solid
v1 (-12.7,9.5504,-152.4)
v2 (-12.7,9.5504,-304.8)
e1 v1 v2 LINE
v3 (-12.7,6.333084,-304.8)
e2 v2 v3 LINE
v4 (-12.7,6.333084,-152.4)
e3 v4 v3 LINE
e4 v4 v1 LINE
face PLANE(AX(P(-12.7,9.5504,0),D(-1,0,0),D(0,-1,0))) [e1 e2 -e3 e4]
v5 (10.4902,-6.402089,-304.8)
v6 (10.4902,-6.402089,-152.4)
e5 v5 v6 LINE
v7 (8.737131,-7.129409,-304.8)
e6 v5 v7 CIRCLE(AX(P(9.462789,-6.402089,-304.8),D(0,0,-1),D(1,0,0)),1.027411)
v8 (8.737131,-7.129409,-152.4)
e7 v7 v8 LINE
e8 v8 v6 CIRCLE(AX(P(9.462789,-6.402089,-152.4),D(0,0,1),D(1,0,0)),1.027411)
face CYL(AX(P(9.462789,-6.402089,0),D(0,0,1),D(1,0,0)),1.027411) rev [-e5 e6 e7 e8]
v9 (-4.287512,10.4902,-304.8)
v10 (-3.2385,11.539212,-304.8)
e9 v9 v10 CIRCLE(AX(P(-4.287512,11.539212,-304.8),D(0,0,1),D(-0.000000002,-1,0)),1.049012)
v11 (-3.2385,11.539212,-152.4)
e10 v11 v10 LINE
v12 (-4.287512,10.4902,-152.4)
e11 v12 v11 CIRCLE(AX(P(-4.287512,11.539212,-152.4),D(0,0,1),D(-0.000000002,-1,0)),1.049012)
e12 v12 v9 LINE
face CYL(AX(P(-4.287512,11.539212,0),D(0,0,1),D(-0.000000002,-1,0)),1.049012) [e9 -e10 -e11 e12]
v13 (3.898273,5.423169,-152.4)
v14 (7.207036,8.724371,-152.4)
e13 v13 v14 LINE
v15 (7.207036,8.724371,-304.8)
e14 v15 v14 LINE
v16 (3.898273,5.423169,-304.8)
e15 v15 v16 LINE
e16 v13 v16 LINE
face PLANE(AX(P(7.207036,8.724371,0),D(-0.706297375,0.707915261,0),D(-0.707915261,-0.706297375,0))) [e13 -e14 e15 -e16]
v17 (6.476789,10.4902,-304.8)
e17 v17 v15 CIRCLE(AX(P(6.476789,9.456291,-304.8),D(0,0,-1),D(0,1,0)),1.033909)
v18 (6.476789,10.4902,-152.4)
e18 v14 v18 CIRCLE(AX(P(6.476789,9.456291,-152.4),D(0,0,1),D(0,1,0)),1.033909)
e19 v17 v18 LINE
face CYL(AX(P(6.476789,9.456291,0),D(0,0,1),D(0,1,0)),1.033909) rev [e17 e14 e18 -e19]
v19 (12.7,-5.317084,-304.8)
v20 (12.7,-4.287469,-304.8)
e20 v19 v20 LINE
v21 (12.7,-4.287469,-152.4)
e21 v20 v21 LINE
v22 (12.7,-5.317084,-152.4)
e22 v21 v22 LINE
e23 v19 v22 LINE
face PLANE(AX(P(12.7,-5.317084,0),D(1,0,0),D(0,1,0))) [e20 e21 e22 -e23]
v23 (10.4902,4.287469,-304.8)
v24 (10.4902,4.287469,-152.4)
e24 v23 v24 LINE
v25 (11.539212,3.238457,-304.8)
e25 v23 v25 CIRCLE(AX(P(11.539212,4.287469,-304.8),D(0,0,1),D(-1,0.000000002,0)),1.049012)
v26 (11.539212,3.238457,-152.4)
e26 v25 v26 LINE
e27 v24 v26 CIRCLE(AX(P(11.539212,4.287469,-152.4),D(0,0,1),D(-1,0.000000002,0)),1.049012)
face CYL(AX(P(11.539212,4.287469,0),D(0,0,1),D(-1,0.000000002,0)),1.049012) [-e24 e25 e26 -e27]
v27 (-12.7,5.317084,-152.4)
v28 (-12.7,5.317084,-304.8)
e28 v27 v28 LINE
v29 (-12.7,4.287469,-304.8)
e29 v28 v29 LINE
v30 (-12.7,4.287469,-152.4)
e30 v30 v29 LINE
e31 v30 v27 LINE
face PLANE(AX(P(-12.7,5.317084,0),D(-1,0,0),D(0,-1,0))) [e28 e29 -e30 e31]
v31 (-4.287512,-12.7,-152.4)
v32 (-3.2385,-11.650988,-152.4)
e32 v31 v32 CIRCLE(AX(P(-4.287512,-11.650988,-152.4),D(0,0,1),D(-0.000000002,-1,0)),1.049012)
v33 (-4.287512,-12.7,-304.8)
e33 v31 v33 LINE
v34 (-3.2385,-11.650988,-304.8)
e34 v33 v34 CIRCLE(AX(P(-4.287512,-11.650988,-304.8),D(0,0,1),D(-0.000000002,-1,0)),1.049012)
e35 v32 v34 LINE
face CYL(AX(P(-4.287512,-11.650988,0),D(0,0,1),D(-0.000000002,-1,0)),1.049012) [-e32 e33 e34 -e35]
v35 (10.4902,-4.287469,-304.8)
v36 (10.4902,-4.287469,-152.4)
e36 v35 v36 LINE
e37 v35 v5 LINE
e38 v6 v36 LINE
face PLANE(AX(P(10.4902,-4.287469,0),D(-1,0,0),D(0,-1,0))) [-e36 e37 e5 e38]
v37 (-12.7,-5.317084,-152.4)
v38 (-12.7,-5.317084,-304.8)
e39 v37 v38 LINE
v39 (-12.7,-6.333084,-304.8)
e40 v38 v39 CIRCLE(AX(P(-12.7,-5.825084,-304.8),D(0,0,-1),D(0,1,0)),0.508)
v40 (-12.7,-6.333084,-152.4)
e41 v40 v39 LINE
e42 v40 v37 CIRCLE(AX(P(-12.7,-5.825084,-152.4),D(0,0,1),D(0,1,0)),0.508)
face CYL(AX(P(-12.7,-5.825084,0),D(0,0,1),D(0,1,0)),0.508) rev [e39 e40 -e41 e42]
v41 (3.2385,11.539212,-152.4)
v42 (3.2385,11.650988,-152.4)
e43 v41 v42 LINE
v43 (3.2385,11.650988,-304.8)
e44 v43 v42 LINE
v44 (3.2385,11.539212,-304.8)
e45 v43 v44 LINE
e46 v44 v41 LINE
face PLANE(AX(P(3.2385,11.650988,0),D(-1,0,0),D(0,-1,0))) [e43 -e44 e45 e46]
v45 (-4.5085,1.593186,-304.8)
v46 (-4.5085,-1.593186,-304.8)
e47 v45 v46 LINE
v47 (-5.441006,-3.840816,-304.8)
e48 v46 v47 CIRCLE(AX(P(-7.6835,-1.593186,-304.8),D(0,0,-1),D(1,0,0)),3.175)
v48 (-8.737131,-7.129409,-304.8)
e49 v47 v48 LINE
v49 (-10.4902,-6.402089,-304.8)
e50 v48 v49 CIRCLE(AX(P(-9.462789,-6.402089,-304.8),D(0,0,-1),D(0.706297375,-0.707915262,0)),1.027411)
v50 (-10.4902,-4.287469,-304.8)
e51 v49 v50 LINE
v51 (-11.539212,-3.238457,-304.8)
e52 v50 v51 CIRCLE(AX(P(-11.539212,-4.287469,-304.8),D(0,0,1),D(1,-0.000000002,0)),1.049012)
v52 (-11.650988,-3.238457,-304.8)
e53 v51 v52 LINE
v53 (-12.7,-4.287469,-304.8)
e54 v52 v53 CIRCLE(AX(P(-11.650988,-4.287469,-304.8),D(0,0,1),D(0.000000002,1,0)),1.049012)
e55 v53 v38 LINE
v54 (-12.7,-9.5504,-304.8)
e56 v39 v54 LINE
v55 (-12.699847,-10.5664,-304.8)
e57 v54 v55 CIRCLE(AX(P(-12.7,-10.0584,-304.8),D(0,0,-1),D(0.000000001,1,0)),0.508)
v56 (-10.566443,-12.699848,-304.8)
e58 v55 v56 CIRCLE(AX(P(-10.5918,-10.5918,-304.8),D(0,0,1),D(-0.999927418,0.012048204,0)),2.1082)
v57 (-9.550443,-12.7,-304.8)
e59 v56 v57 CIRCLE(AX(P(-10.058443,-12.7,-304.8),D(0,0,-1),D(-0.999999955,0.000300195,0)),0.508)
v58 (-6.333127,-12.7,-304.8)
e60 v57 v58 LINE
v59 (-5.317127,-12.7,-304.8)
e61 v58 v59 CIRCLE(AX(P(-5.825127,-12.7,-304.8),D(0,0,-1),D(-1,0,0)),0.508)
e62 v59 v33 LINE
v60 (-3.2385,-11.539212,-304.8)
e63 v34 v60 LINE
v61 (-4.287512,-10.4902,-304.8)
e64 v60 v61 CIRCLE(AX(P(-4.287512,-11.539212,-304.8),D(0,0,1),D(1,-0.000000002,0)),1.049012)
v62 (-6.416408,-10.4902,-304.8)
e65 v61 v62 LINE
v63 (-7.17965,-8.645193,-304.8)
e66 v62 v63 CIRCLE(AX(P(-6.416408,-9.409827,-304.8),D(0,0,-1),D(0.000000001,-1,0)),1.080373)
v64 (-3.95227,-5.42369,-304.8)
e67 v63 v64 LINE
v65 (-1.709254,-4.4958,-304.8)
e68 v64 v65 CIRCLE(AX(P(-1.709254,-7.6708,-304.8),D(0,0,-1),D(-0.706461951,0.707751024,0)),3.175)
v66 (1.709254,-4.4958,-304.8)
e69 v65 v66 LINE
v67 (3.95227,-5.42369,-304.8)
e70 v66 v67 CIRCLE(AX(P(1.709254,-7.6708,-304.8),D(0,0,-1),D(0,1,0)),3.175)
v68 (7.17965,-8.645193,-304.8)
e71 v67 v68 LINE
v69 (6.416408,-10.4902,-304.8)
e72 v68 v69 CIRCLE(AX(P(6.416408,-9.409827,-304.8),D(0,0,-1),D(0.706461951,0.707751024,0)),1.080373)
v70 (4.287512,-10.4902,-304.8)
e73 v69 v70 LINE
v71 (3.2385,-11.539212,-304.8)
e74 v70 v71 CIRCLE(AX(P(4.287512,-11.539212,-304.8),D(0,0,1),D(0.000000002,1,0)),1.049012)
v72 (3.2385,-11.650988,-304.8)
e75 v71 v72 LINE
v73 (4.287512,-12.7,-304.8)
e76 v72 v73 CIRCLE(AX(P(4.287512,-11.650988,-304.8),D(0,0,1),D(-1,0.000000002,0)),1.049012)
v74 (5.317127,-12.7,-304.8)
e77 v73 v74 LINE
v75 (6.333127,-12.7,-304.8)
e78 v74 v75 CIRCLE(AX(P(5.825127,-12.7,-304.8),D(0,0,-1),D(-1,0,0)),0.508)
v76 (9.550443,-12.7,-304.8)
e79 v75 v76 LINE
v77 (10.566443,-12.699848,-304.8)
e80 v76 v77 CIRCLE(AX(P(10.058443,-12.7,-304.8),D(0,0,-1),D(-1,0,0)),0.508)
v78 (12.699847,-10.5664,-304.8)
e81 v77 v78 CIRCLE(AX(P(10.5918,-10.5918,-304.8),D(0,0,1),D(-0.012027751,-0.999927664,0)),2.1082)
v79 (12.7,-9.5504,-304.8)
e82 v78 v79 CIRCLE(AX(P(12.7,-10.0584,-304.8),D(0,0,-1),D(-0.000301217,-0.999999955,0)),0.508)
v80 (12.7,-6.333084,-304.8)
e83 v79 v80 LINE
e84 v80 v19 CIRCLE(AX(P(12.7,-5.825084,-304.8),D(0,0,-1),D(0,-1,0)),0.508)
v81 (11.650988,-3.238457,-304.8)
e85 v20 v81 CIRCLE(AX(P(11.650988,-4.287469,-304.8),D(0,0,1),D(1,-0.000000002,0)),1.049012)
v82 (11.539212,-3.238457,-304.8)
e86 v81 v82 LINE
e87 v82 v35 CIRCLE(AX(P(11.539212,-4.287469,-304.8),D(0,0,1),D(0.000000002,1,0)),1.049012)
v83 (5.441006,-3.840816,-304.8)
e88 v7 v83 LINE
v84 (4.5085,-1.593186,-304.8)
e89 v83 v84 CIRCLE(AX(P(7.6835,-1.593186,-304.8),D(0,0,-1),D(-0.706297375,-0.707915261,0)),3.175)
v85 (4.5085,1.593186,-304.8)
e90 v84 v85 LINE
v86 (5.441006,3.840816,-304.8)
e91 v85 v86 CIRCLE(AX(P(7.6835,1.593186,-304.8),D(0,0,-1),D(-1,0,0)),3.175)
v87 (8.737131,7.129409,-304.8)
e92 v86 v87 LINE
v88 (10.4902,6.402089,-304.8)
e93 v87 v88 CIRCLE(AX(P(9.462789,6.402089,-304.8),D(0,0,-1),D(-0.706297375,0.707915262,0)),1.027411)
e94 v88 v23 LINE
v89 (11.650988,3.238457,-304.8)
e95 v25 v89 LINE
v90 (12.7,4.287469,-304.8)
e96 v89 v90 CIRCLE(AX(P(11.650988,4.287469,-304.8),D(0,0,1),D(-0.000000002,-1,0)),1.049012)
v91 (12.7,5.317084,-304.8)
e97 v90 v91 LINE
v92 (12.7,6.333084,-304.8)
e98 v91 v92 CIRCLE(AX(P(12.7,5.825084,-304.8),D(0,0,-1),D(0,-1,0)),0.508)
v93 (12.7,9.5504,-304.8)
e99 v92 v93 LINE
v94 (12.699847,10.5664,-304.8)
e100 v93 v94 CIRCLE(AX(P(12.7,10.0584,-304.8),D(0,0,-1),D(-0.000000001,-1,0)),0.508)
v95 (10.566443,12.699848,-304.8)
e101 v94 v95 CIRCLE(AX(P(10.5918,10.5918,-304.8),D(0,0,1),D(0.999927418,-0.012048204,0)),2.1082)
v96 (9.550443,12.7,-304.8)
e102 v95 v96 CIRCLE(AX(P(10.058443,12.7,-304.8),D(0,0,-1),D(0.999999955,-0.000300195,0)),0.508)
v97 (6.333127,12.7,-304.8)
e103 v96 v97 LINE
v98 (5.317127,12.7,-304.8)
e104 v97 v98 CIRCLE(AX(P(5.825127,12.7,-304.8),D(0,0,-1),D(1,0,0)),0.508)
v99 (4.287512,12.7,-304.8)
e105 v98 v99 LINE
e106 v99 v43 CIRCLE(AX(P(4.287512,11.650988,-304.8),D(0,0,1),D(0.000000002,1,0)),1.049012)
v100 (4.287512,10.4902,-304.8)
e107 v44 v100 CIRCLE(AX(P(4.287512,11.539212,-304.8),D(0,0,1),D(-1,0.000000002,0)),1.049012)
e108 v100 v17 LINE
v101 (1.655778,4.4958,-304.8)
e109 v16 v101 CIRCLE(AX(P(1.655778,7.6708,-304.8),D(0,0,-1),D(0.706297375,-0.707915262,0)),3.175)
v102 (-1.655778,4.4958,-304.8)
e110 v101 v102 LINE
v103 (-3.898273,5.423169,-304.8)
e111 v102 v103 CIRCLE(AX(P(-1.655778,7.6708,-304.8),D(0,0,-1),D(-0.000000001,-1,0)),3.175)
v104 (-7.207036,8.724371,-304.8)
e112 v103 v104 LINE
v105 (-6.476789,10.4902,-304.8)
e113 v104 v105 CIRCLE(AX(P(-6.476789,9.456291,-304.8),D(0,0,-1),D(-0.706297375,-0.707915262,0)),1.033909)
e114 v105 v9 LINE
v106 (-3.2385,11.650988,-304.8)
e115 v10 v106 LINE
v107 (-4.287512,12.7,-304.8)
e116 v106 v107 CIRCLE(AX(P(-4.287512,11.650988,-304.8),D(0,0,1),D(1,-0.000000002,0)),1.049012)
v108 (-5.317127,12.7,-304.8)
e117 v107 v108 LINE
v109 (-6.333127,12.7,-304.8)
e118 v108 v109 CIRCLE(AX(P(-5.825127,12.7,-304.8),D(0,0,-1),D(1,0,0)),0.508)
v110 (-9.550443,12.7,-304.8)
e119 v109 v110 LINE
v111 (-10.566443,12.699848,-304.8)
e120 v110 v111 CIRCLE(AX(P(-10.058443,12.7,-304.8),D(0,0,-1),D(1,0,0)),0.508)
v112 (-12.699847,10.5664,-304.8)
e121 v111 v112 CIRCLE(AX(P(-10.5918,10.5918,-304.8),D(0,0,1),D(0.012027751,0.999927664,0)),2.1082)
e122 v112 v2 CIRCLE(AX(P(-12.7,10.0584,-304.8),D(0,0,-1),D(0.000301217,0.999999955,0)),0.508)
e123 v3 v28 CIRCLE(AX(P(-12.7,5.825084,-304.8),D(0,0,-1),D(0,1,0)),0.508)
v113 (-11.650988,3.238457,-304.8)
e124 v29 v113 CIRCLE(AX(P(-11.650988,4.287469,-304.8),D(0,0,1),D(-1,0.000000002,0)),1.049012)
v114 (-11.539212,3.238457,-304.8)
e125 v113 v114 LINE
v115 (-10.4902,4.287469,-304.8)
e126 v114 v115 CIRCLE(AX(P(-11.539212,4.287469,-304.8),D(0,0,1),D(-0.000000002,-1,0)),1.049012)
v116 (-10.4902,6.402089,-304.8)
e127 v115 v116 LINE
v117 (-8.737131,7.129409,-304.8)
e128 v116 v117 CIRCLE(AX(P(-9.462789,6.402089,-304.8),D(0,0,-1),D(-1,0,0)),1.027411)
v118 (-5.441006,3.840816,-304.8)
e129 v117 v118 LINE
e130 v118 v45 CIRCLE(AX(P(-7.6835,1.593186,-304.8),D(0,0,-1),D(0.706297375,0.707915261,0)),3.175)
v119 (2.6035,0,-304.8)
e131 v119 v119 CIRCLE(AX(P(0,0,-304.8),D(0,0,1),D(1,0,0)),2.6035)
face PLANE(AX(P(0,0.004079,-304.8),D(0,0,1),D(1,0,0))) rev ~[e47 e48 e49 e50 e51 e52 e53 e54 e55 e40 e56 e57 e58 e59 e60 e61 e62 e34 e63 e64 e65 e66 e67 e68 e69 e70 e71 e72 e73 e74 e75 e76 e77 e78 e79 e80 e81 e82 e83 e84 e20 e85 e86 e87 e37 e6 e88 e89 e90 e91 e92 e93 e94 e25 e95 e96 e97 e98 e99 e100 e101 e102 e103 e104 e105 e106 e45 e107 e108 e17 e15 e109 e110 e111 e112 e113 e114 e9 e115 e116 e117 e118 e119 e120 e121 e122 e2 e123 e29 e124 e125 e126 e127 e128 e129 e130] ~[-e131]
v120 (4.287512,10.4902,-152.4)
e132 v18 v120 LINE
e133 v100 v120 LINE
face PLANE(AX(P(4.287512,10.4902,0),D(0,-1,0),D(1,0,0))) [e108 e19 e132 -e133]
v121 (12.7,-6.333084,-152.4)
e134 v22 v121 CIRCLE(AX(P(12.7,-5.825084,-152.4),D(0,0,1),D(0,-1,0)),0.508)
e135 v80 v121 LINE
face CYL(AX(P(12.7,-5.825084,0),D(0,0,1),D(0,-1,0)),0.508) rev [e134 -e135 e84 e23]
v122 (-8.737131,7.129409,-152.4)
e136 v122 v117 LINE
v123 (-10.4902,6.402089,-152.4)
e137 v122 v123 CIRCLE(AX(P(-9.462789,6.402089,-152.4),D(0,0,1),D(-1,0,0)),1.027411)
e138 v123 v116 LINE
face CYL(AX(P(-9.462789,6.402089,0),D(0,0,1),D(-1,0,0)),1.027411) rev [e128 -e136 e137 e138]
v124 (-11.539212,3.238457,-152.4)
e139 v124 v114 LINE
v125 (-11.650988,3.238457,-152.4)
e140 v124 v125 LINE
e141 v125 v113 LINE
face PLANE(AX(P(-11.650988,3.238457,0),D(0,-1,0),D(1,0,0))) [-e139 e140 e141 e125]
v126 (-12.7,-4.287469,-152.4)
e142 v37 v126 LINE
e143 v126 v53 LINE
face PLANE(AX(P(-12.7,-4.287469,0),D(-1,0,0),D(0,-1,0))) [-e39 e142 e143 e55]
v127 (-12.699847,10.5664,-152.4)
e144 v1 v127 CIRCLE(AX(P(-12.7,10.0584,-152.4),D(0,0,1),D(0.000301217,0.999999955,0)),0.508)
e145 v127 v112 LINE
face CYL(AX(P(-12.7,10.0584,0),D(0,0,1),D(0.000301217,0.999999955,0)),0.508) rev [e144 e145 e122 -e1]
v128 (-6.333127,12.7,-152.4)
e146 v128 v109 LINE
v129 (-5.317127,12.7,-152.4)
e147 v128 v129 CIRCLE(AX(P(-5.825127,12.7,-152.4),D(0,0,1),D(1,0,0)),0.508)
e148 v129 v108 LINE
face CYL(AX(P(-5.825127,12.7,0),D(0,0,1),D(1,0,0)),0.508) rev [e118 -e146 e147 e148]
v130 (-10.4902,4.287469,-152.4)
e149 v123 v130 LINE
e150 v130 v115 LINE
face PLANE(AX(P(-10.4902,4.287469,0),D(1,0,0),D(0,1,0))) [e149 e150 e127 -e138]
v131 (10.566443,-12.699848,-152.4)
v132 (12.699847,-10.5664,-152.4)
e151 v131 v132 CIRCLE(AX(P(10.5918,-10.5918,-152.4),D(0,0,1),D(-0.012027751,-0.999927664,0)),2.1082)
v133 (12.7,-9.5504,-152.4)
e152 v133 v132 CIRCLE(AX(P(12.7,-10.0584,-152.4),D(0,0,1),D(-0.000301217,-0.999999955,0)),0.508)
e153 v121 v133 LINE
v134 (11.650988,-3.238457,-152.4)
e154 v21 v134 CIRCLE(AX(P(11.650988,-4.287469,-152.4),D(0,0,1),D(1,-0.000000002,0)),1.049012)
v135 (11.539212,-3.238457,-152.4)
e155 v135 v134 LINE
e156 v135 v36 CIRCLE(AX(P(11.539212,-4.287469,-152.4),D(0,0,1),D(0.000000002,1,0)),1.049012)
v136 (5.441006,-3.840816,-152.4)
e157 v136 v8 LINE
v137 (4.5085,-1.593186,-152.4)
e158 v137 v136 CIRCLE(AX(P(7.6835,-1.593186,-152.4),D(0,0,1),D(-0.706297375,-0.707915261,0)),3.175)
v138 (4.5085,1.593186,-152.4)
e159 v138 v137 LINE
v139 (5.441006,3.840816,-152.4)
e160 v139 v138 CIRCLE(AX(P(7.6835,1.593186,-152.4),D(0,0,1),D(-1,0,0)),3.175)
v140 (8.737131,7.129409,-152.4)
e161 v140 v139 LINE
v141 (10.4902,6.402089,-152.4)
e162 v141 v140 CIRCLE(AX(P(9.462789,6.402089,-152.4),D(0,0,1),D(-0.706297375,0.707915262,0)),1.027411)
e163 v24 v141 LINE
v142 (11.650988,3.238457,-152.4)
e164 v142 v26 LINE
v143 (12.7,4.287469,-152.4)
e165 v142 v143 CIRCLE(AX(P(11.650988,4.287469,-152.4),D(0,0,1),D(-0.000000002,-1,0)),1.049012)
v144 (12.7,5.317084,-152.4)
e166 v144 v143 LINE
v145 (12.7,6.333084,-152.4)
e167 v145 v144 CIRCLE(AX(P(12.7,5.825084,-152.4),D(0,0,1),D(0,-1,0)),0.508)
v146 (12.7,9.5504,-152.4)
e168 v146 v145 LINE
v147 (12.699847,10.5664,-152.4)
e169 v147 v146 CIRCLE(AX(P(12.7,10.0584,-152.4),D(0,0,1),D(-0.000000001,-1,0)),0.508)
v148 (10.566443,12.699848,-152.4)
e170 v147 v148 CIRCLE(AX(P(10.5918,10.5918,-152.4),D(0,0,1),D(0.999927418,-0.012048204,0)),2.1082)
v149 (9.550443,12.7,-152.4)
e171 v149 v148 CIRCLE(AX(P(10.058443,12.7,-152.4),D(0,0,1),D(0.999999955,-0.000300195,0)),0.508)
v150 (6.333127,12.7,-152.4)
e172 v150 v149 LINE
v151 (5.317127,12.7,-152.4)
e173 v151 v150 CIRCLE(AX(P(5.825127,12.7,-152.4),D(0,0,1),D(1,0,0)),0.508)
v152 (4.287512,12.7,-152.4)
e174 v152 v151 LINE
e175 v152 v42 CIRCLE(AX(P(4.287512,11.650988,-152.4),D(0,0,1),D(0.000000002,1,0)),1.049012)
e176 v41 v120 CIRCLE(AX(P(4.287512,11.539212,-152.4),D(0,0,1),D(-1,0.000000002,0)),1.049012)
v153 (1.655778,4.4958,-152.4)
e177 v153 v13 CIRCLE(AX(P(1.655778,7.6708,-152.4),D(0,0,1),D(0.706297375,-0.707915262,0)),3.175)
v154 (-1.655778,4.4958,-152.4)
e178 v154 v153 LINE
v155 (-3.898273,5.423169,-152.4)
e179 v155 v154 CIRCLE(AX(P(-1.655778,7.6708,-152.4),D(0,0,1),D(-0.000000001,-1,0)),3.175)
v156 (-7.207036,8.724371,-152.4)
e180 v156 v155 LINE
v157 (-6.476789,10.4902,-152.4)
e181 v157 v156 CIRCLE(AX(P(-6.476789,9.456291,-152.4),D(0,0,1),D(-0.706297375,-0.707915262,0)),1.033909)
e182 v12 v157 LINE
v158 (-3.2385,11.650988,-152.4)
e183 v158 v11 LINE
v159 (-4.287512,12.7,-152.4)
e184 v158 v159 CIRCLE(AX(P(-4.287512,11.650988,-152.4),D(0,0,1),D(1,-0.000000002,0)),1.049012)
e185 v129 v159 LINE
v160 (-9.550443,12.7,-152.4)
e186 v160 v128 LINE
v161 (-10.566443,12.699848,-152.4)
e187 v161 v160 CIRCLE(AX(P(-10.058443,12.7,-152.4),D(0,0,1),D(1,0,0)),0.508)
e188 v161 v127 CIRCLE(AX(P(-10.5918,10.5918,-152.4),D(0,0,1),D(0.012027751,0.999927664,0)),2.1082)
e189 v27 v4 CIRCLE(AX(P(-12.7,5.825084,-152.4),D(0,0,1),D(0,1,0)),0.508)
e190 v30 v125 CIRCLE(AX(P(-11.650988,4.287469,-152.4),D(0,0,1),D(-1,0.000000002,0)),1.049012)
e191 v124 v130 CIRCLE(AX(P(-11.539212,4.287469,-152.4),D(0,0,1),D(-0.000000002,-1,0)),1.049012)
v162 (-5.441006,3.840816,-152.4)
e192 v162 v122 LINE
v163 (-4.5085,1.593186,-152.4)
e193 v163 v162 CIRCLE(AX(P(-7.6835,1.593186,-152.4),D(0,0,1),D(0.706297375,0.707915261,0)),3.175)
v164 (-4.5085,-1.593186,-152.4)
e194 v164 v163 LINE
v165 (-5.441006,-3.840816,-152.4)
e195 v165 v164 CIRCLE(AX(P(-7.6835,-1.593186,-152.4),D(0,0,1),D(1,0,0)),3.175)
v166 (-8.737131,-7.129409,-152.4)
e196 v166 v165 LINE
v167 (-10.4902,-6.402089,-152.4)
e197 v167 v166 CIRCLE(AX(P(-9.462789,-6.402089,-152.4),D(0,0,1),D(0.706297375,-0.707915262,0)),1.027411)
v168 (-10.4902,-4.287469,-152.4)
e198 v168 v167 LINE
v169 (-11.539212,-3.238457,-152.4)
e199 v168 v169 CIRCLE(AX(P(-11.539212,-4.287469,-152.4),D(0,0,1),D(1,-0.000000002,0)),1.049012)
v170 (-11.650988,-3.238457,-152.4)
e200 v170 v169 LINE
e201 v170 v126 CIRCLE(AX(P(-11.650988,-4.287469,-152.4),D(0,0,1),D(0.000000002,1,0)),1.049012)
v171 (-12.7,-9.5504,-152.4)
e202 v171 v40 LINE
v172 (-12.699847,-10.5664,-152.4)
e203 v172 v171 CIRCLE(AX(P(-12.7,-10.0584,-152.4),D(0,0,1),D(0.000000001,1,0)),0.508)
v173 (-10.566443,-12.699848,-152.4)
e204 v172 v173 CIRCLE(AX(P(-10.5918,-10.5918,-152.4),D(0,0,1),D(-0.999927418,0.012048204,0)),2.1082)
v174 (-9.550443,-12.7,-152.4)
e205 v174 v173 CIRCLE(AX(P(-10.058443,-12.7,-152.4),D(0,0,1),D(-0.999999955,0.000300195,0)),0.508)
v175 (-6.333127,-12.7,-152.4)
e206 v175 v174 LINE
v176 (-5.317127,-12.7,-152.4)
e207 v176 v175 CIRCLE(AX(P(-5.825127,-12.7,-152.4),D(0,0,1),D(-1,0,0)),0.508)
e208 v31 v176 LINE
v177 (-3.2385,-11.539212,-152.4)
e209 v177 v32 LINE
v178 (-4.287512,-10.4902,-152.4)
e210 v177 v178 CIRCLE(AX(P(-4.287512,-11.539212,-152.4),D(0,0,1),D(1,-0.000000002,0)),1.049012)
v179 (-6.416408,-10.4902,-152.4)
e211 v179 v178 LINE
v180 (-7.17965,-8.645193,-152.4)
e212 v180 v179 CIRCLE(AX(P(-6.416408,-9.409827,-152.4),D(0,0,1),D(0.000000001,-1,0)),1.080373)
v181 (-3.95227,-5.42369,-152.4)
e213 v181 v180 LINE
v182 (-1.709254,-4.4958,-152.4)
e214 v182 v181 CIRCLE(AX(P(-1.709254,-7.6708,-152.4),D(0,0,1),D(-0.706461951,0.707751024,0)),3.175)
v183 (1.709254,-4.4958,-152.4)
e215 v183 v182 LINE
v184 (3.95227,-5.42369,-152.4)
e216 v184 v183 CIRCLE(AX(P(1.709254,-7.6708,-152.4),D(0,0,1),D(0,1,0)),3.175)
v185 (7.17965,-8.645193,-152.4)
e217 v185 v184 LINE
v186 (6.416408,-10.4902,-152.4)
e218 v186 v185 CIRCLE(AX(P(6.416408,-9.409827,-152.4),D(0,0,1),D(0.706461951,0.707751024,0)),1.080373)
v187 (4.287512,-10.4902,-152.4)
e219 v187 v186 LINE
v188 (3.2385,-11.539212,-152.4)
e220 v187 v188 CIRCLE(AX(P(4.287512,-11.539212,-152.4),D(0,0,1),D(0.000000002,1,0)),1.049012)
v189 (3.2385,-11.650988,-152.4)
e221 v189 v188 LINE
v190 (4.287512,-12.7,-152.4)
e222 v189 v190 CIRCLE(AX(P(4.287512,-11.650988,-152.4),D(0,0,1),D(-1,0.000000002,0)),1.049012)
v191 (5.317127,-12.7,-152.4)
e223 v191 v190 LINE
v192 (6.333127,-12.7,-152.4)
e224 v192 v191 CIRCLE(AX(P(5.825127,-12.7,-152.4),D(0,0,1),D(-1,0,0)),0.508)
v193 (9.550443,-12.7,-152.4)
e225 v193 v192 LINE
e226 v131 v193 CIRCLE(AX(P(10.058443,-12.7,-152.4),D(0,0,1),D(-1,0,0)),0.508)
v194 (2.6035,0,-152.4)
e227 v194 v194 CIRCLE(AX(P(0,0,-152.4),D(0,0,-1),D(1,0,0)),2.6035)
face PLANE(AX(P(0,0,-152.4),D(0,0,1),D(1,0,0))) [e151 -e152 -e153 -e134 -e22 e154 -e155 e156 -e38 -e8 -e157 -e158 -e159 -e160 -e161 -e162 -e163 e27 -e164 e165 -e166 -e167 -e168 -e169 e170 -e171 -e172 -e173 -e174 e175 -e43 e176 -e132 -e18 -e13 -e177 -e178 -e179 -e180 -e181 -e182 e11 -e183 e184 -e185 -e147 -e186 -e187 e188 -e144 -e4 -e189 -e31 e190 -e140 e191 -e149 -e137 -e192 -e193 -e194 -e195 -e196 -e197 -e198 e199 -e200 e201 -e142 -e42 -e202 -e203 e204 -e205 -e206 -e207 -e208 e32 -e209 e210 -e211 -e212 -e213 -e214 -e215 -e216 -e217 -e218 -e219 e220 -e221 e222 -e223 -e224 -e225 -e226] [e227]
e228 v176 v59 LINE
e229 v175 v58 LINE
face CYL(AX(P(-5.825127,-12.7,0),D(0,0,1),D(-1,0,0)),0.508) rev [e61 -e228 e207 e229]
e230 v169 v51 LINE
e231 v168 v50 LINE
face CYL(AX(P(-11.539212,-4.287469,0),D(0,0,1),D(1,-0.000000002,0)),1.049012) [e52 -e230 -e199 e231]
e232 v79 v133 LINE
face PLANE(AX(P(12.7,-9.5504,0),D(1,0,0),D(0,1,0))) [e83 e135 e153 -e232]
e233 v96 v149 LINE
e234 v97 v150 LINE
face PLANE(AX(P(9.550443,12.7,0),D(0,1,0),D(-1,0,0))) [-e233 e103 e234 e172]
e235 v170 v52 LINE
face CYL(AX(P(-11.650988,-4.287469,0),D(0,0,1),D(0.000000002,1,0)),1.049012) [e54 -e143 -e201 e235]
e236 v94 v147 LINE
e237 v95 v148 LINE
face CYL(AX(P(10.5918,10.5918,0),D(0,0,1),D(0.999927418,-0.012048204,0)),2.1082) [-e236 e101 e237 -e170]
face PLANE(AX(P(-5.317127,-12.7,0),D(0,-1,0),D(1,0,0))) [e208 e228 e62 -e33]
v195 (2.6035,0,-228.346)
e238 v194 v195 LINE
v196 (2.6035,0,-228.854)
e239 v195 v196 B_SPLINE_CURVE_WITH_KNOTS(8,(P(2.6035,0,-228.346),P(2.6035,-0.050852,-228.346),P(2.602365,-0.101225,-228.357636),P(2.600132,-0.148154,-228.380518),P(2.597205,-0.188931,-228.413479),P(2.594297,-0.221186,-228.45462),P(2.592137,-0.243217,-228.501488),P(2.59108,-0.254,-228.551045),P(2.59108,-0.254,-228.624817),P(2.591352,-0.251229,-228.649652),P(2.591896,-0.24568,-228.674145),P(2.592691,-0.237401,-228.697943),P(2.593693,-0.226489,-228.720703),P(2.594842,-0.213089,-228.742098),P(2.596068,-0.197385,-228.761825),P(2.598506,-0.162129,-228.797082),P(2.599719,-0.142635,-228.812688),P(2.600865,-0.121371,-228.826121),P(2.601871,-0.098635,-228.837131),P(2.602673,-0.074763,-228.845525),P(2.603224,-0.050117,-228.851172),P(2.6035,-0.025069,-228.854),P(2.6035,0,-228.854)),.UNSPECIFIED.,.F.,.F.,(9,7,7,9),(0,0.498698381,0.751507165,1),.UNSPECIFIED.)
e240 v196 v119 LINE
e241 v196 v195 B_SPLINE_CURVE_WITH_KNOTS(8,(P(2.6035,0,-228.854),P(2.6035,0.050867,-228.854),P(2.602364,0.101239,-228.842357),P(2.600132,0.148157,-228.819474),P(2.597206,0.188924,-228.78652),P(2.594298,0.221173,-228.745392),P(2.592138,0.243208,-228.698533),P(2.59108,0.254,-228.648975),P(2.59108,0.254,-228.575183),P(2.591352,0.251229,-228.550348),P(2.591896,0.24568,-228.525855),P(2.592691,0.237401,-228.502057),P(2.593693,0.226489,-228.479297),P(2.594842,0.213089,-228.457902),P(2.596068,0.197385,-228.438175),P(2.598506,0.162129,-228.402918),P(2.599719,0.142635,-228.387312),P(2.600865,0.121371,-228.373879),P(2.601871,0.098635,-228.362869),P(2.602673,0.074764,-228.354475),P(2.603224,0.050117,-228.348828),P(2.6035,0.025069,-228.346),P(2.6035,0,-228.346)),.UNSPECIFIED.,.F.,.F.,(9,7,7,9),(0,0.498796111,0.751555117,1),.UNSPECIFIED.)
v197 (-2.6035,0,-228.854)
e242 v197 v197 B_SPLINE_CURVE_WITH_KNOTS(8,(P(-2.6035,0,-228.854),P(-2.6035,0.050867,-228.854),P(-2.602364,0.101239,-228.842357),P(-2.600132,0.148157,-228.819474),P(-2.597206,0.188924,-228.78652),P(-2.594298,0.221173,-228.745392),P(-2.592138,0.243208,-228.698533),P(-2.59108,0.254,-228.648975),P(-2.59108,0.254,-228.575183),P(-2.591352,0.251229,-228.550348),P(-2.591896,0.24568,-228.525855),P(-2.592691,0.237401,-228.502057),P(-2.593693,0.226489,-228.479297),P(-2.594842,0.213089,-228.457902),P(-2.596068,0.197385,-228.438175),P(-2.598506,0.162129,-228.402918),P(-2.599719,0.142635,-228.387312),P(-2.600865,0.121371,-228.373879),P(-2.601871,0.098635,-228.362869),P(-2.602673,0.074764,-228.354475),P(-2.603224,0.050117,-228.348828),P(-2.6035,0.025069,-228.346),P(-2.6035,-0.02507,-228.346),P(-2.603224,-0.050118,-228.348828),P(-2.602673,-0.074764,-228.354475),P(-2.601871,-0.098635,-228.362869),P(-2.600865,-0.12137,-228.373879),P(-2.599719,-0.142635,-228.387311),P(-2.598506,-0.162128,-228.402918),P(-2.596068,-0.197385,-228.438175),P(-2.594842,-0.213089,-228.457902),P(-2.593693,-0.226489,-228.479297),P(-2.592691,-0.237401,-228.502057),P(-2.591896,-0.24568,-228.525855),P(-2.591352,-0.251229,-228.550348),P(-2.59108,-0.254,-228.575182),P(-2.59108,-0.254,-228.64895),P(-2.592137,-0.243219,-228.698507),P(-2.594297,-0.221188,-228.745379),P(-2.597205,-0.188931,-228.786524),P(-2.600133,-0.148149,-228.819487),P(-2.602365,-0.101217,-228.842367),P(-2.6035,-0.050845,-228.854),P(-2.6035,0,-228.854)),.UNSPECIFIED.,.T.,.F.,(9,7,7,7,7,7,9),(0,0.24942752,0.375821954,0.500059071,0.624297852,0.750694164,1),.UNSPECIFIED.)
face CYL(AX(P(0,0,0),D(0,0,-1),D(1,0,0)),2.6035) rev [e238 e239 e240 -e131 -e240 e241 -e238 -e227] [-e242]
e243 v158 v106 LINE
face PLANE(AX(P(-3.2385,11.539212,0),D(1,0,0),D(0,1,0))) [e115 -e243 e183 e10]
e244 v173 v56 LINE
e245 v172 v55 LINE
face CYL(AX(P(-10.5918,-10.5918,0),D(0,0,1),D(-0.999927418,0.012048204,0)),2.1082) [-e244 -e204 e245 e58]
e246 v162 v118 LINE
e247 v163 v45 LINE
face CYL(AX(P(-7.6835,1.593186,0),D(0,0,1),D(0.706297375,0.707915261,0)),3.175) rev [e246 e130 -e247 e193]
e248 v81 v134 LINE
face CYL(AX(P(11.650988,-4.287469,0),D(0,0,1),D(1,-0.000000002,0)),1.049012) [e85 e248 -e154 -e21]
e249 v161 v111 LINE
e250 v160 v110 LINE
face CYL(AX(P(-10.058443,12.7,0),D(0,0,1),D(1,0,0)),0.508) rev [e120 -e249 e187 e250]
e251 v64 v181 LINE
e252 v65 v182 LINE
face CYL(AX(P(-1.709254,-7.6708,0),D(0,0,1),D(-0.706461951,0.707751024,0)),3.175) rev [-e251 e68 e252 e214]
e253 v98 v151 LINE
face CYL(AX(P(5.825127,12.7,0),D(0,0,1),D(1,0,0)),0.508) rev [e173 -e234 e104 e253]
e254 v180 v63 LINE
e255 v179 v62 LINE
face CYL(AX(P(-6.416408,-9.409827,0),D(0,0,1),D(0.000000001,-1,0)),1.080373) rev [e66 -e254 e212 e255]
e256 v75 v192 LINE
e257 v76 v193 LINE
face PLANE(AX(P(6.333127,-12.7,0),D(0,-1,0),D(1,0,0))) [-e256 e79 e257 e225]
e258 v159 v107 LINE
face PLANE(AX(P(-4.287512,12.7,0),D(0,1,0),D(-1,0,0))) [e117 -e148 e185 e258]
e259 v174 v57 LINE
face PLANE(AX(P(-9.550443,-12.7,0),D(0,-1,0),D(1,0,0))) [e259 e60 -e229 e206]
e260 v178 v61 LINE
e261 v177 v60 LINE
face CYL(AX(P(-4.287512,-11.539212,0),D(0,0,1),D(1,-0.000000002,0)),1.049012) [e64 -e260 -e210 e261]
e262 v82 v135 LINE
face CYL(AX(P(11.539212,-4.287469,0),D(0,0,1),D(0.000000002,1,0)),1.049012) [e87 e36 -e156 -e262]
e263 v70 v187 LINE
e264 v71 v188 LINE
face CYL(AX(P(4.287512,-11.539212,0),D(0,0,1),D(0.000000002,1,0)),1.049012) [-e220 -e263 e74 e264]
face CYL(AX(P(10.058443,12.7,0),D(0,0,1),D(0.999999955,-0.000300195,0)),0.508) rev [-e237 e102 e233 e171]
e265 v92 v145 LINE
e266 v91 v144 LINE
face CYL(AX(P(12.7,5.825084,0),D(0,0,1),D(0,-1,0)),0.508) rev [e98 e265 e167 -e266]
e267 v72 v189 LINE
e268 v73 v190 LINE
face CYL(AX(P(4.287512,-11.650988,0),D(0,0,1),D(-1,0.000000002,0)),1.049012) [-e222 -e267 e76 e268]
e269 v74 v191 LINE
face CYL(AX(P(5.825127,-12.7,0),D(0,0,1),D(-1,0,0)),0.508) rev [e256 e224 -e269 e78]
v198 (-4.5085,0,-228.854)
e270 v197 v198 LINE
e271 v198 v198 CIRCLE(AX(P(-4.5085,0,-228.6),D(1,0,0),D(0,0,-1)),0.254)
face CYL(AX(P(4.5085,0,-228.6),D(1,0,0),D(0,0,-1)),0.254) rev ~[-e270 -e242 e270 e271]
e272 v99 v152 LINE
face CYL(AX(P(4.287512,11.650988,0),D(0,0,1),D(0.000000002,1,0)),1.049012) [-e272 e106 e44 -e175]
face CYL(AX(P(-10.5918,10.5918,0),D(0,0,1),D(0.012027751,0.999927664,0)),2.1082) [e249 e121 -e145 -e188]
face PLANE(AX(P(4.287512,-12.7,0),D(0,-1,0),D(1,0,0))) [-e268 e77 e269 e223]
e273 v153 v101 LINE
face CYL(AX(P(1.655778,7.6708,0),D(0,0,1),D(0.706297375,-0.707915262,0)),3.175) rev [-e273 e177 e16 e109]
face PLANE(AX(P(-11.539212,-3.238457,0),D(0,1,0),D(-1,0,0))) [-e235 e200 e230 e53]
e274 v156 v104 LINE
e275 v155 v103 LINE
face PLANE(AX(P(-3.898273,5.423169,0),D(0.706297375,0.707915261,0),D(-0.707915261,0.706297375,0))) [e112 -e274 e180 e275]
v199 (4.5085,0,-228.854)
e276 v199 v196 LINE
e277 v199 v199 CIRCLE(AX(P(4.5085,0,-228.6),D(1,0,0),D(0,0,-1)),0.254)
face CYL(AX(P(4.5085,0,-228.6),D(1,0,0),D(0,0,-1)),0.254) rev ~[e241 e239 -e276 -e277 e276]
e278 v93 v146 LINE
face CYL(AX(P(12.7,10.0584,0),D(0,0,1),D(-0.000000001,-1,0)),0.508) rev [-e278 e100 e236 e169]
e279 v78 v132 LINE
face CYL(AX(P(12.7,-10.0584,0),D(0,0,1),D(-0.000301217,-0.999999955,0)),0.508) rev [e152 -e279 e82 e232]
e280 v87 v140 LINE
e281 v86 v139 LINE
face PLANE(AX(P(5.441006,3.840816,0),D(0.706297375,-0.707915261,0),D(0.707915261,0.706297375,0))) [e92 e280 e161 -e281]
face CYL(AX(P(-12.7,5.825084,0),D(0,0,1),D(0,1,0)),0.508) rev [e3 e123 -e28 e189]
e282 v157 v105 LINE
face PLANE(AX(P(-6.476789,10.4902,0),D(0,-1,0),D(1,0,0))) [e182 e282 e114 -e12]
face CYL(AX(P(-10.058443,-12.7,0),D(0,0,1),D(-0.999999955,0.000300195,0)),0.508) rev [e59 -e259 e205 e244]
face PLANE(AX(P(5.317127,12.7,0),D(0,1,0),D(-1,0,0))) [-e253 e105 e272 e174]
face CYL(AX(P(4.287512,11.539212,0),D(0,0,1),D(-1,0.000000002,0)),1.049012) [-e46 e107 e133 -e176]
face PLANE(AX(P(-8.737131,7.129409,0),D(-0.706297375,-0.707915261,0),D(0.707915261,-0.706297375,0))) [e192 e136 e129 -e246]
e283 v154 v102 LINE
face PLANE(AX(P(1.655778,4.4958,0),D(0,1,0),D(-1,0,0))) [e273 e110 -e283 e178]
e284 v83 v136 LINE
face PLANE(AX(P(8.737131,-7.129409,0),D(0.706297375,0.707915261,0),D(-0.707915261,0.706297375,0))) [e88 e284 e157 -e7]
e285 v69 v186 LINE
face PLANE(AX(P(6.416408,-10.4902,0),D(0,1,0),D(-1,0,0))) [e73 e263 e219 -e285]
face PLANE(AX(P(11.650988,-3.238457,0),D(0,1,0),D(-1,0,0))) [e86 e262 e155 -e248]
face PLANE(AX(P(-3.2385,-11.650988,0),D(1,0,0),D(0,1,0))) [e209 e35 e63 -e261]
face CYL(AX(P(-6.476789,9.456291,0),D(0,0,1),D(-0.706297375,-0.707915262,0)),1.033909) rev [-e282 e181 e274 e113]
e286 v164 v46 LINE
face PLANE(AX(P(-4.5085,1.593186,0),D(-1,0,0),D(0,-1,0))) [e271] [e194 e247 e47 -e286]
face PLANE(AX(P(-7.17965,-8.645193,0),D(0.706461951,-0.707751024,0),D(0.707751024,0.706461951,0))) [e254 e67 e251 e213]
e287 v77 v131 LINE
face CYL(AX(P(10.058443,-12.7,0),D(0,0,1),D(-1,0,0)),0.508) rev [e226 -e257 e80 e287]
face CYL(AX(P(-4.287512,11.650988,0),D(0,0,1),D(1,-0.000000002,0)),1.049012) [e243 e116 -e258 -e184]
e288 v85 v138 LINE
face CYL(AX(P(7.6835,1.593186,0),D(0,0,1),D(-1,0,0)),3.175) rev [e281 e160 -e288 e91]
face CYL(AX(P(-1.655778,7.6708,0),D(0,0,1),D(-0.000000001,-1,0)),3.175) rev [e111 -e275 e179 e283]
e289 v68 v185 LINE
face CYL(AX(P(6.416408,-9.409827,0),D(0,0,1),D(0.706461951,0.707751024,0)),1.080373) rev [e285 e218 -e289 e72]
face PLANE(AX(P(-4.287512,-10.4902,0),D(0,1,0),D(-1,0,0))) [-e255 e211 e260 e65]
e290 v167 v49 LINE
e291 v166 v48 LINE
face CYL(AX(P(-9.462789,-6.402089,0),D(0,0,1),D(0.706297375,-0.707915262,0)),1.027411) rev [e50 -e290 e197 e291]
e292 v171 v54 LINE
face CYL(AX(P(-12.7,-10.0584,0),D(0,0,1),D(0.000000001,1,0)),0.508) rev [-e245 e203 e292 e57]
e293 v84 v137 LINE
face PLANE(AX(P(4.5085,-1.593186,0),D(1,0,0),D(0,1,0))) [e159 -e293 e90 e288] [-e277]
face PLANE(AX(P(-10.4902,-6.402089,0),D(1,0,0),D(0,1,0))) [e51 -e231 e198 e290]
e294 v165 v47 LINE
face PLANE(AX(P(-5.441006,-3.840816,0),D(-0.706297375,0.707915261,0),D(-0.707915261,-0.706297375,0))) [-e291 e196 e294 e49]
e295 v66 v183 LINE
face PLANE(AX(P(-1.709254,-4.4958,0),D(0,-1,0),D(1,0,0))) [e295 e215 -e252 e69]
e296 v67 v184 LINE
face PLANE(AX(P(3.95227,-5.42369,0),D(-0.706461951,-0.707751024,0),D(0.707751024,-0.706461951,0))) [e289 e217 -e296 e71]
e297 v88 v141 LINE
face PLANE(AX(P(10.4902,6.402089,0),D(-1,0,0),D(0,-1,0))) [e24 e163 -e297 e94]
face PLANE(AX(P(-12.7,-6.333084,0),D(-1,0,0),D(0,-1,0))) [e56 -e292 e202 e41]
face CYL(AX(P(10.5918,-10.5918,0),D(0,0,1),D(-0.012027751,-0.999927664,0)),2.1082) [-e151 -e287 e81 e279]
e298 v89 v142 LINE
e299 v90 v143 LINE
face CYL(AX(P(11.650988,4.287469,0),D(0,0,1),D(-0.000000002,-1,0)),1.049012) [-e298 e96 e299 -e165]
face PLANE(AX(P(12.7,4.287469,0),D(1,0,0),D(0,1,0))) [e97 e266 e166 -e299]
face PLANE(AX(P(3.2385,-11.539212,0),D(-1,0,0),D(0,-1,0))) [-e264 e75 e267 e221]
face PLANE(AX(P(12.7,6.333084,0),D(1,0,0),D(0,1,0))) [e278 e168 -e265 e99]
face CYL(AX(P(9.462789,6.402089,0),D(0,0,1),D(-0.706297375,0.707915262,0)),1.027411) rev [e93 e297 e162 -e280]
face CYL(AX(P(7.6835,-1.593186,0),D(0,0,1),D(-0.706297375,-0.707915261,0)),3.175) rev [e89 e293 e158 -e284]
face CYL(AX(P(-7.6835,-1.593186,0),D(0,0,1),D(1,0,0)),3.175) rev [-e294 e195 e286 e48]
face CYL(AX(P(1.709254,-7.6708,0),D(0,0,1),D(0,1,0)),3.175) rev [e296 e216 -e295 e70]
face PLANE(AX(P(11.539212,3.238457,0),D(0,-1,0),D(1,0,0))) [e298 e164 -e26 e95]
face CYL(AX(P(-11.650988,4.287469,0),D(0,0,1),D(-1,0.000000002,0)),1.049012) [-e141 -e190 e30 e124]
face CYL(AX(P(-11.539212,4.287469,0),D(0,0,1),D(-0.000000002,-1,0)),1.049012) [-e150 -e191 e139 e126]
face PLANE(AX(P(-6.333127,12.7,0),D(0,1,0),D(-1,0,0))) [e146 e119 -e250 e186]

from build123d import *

# Parameters (mm, degrees)
SKETCH1_R           = 2.6035
BOSS_EXTRUDE1_DEPTH = 304.8
SKETCH2_R           = 37.713648337
CUT_EXTRUDE1_DEPTH  = 203.2
SKETCH4_R           = 34.529117014
CUT_EXTRUDE3_DEPTH  = 254
SKETCH5_R           = 0.254
CUT_EXTRUDE4_DEPTH  = 254


with BuildPart() as part:
    # Sketch1 → Boss-Extrude1 (new, symmetric)
    with BuildSketch(Plane.XY):
        with BuildLine():
            Line((-7.179650497, -8.645192506), (-3.952270251, -5.423690499))
            ThreePointArc((-3.952270251, -5.423690499), (-2.922936451, -4.736929036), (-1.709253557, -4.4958))
            Line((-1.709253557, -4.4958), (1.709253557, -4.4958))
            ThreePointArc((1.709253557, -4.4958), (2.922936451, -4.736929036), (3.952270251, -5.423690499))
            Line((3.952270251, -5.423690499), (7.179650497, -8.645192506))
            ThreePointArc((7.179650497, -8.645192506), (7.41473083, -9.822813117), (6.416408329, -10.4902))
            Line((6.416408329, -10.4902), (4.287512407, -10.4902))
            ThreePointArc((4.287512407, -10.4902), (3.54574862, -10.79744862), (3.2385, -11.539212407))
            Line((3.2385, -11.539212407), (3.2385, -11.650987593))
            ThreePointArc((3.2385, -11.650987593), (3.54574862, -12.39275138), (4.287512407, -12.7))
            Line((4.287512407, -12.7), (5.317126718, -12.7))
            ThreePointArc((5.317126718, -12.7), (5.825126718, -12.192), (6.333126718, -12.7))
            Line((6.333126718, -12.7), (9.550443118, -12.7))
            ThreePointArc((9.550443118, -12.7), (10.058366869, -12.192000006), (10.566443095, -12.699847501))
            ThreePointArc((10.566443095, -12.699847501), (12.082537762, -12.08250727), (12.699846982, -10.566399977))
            ThreePointArc((12.699846982, -10.566399977), (12.192000006, -10.058323491), (12.7, -9.5504))
            Line((12.7, -9.5504), (12.7, -6.3330836))
            ThreePointArc((12.7, -6.3330836), (12.192, -5.8250836), (12.7, -5.3170836))
            Line((12.7, -5.3170836), (12.7, -4.287469289))
            ThreePointArc((12.7, -4.287469289), (12.39275138, -3.545705502), (11.650987593, -3.238456882))
            Line((11.650987593, -3.238456882), (11.539212407, -3.238456882))
            ThreePointArc((11.539212407, -3.238456882), (10.79744862, -3.545705502), (10.4902, -4.287469289))
            Line((10.4902, -4.287469289), (10.4902, -6.402089023))
            ThreePointArc((10.4902, -6.402089023), (9.856505071, -7.351067942), (8.737131347, -7.129408934))
            Line((8.737131347, -7.129408934), (5.441005833, -3.840816462))
            ThreePointArc((5.441005833, -3.840816462), (4.750877967, -2.809883091), (4.5085, -1.593185507))
            Line((4.5085, -1.593185507), (4.5085, 1.593185507))
            ThreePointArc((4.5085, 1.593185507), (4.750877967, 2.809883091), (5.441005833, 3.840816462))
            Line((5.441005833, 3.840816462), (8.737131347, 7.129408934))
            ThreePointArc((8.737131347, 7.129408934), (9.856505071, 7.351067942), (10.4902, 6.402089023))
            Line((10.4902, 6.402089023), (10.4902, 4.287469289))
            ThreePointArc((10.4902, 4.287469289), (10.79744862, 3.545705502), (11.539212407, 3.238456882))
            Line((11.539212407, 3.238456882), (11.650987593, 3.238456882))
            ThreePointArc((11.650987593, 3.238456882), (12.39275138, 3.545705502), (12.7, 4.287469289))
            Line((12.7, 4.287469289), (12.7, 5.3170836))
            ThreePointArc((12.7, 5.3170836), (12.192, 5.8250836), (12.7, 6.3330836))
            Line((12.7, 6.3330836), (12.7, 9.5504))
            ThreePointArc((12.7, 9.5504), (12.192000006, 10.058323491), (12.699846982, 10.566399977))
            ThreePointArc((12.699846982, 10.566399977), (12.082537762, 12.08250727), (10.566443095, 12.699847501))
            ThreePointArc((10.566443095, 12.699847501), (10.058366869, 12.192000006), (9.550443118, 12.7))
            Line((9.550443118, 12.7), (6.333126718, 12.7))
            ThreePointArc((6.333126718, 12.7), (5.825126718, 12.192), (5.317126718, 12.7))
            Line((5.317126718, 12.7), (4.287512407, 12.7))
            ThreePointArc((4.287512407, 12.7), (3.54574862, 12.39275138), (3.2385, 11.650987593))
            Line((3.2385, 11.650987593), (3.2385, 11.539212407))
            ThreePointArc((3.2385, 11.539212407), (3.54574862, 10.79744862), (4.287512407, 10.4902))
            Line((4.287512407, 10.4902), (6.476788598, 10.4902))
            ThreePointArc((6.476788598, 10.4902), (7.432222385, 9.85140422), (7.207036008, 8.724370562))
            Line((7.207036008, 8.724370562), (3.898272566, 5.423169045))
            ThreePointArc((3.898272566, 5.423169045), (2.869120213, 4.736787962), (1.655778399, 4.4958))
            Line((1.655778399, 4.4958), (-1.655778399, 4.4958))
            ThreePointArc((-1.655778399, 4.4958), (-2.869120213, 4.736787962), (-3.898272566, 5.423169045))
            Line((-3.898272566, 5.423169045), (-7.207036008, 8.724370562))
            ThreePointArc((-7.207036008, 8.724370562), (-7.432222385, 9.85140422), (-6.476788598, 10.4902))
            Line((-6.476788598, 10.4902), (-4.287512407, 10.4902))
            ThreePointArc((-4.287512407, 10.4902), (-3.54574862, 10.79744862), (-3.2385, 11.539212407))
            Line((-3.2385, 11.539212407), (-3.2385, 11.650987593))
            ThreePointArc((-3.2385, 11.650987593), (-3.54574862, 12.39275138), (-4.287512407, 12.7))
            Line((-4.287512407, 12.7), (-5.317126718, 12.7))
            ThreePointArc((-5.317126718, 12.7), (-5.825126718, 12.192), (-6.333126718, 12.7))
            Line((-6.333126718, 12.7), (-9.550443118, 12.7))
            ThreePointArc((-9.550443118, 12.7), (-10.058366869, 12.192000006), (-10.566443095, 12.699847501))
            ThreePointArc((-10.566443095, 12.699847501), (-12.082537762, 12.08250727), (-12.699846982, 10.566399977))
            ThreePointArc((-12.699846982, 10.566399977), (-12.192000006, 10.058323491), (-12.7, 9.5504))
            Line((-12.7, 9.5504), (-12.7, 6.3330836))
            ThreePointArc((-12.7, 6.3330836), (-12.192, 5.8250836), (-12.7, 5.3170836))
            Line((-12.7, 5.3170836), (-12.7, 4.287469289))
            ThreePointArc((-12.7, 4.287469289), (-12.39275138, 3.545705502), (-11.650987593, 3.238456882))
            Line((-11.650987593, 3.238456882), (-11.539212407, 3.238456882))
            ThreePointArc((-11.539212407, 3.238456882), (-10.79744862, 3.545705502), (-10.4902, 4.287469289))
            Line((-10.4902, 4.287469289), (-10.4902, 6.402089023))
            ThreePointArc((-10.4902, 6.402089023), (-9.856505071, 7.351067942), (-8.737131347, 7.129408934))
            Line((-8.737131347, 7.129408934), (-5.441005833, 3.840816462))
            ThreePointArc((-5.441005833, 3.840816462), (-4.750877967, 2.809883091), (-4.5085, 1.593185507))
            Line((-4.5085, 1.593185507), (-4.5085, -1.593185507))
            ThreePointArc((-4.5085, -1.593185507), (-4.750877967, -2.809883091), (-5.441005833, -3.840816462))
            Line((-5.441005833, -3.840816462), (-8.737131347, -7.129408934))
            ThreePointArc((-8.737131347, -7.129408934), (-9.856505071, -7.351067942), (-10.4902, -6.402089023))
            Line((-10.4902, -6.402089023), (-10.4902, -4.287469289))
            ThreePointArc((-10.4902, -4.287469289), (-10.79744862, -3.545705502), (-11.539212407, -3.238456882))
            Line((-11.539212407, -3.238456882), (-11.650987593, -3.238456882))
            ThreePointArc((-11.650987593, -3.238456882), (-12.39275138, -3.545705502), (-12.7, -4.287469289))
            Line((-12.7, -4.287469289), (-12.7, -5.3170836))
            ThreePointArc((-12.7, -5.3170836), (-12.192, -5.8250836), (-12.7, -6.3330836))
            Line((-12.7, -6.3330836), (-12.7, -9.5504))
            ThreePointArc((-12.7, -9.5504), (-12.192000006, -10.058323491), (-12.699846982, -10.566399977))
            ThreePointArc((-12.699846982, -10.566399977), (-12.082537762, -12.08250727), (-10.566443095, -12.699847501))
            ThreePointArc((-10.566443095, -12.699847501), (-10.058366869, -12.192000006), (-9.550443118, -12.7))
            Line((-9.550443118, -12.7), (-6.333126718, -12.7))
            ThreePointArc((-6.333126718, -12.7), (-5.825126718, -12.192), (-5.317126718, -12.7))
            Line((-5.317126718, -12.7), (-4.287512407, -12.7))
            ThreePointArc((-4.287512407, -12.7), (-3.54574862, -12.39275138), (-3.2385, -11.650987593))
            Line((-3.2385, -11.650987593), (-3.2385, -11.539212407))
            ThreePointArc((-3.2385, -11.539212407), (-3.54574862, -10.79744862), (-4.287512407, -10.4902))
            Line((-4.287512407, -10.4902), (-6.416408329, -10.4902))
            ThreePointArc((-6.416408329, -10.4902), (-7.41473083, -9.822813117), (-7.179650497, -8.645192506))
        make_face()
        Circle(SKETCH1_R, mode=Mode.SUBTRACT)
    extrude(amount=BOSS_EXTRUDE1_DEPTH, both=True)

    # Sketch2 → Cut-Extrude1 (cut)
    with BuildSketch(Plane.XY.offset(304.8)):
        Circle(SKETCH2_R)
    extrude(amount=-CUT_EXTRUDE1_DEPTH, mode=Mode.SUBTRACT)

    # Sketch4 → Cut-Extrude3 (cut)
    with BuildSketch(Plane.XY.offset(101.6)):
        Circle(SKETCH4_R)
    extrude(amount=-CUT_EXTRUDE3_DEPTH, mode=Mode.SUBTRACT)

    # Sketch5 → Cut-Extrude4 (cut)
    with BuildSketch(Plane(origin=(4.5085, 0, 0), x_dir=(0, 0, -1), z_dir=(1, 0, 0))):
        with Locations((228.6, 0)):
            Circle(SKETCH5_R)
    extrude(amount=-CUT_EXTRUDE4_DEPTH, mode=Mode.SUBTRACT)


solid = part.part
